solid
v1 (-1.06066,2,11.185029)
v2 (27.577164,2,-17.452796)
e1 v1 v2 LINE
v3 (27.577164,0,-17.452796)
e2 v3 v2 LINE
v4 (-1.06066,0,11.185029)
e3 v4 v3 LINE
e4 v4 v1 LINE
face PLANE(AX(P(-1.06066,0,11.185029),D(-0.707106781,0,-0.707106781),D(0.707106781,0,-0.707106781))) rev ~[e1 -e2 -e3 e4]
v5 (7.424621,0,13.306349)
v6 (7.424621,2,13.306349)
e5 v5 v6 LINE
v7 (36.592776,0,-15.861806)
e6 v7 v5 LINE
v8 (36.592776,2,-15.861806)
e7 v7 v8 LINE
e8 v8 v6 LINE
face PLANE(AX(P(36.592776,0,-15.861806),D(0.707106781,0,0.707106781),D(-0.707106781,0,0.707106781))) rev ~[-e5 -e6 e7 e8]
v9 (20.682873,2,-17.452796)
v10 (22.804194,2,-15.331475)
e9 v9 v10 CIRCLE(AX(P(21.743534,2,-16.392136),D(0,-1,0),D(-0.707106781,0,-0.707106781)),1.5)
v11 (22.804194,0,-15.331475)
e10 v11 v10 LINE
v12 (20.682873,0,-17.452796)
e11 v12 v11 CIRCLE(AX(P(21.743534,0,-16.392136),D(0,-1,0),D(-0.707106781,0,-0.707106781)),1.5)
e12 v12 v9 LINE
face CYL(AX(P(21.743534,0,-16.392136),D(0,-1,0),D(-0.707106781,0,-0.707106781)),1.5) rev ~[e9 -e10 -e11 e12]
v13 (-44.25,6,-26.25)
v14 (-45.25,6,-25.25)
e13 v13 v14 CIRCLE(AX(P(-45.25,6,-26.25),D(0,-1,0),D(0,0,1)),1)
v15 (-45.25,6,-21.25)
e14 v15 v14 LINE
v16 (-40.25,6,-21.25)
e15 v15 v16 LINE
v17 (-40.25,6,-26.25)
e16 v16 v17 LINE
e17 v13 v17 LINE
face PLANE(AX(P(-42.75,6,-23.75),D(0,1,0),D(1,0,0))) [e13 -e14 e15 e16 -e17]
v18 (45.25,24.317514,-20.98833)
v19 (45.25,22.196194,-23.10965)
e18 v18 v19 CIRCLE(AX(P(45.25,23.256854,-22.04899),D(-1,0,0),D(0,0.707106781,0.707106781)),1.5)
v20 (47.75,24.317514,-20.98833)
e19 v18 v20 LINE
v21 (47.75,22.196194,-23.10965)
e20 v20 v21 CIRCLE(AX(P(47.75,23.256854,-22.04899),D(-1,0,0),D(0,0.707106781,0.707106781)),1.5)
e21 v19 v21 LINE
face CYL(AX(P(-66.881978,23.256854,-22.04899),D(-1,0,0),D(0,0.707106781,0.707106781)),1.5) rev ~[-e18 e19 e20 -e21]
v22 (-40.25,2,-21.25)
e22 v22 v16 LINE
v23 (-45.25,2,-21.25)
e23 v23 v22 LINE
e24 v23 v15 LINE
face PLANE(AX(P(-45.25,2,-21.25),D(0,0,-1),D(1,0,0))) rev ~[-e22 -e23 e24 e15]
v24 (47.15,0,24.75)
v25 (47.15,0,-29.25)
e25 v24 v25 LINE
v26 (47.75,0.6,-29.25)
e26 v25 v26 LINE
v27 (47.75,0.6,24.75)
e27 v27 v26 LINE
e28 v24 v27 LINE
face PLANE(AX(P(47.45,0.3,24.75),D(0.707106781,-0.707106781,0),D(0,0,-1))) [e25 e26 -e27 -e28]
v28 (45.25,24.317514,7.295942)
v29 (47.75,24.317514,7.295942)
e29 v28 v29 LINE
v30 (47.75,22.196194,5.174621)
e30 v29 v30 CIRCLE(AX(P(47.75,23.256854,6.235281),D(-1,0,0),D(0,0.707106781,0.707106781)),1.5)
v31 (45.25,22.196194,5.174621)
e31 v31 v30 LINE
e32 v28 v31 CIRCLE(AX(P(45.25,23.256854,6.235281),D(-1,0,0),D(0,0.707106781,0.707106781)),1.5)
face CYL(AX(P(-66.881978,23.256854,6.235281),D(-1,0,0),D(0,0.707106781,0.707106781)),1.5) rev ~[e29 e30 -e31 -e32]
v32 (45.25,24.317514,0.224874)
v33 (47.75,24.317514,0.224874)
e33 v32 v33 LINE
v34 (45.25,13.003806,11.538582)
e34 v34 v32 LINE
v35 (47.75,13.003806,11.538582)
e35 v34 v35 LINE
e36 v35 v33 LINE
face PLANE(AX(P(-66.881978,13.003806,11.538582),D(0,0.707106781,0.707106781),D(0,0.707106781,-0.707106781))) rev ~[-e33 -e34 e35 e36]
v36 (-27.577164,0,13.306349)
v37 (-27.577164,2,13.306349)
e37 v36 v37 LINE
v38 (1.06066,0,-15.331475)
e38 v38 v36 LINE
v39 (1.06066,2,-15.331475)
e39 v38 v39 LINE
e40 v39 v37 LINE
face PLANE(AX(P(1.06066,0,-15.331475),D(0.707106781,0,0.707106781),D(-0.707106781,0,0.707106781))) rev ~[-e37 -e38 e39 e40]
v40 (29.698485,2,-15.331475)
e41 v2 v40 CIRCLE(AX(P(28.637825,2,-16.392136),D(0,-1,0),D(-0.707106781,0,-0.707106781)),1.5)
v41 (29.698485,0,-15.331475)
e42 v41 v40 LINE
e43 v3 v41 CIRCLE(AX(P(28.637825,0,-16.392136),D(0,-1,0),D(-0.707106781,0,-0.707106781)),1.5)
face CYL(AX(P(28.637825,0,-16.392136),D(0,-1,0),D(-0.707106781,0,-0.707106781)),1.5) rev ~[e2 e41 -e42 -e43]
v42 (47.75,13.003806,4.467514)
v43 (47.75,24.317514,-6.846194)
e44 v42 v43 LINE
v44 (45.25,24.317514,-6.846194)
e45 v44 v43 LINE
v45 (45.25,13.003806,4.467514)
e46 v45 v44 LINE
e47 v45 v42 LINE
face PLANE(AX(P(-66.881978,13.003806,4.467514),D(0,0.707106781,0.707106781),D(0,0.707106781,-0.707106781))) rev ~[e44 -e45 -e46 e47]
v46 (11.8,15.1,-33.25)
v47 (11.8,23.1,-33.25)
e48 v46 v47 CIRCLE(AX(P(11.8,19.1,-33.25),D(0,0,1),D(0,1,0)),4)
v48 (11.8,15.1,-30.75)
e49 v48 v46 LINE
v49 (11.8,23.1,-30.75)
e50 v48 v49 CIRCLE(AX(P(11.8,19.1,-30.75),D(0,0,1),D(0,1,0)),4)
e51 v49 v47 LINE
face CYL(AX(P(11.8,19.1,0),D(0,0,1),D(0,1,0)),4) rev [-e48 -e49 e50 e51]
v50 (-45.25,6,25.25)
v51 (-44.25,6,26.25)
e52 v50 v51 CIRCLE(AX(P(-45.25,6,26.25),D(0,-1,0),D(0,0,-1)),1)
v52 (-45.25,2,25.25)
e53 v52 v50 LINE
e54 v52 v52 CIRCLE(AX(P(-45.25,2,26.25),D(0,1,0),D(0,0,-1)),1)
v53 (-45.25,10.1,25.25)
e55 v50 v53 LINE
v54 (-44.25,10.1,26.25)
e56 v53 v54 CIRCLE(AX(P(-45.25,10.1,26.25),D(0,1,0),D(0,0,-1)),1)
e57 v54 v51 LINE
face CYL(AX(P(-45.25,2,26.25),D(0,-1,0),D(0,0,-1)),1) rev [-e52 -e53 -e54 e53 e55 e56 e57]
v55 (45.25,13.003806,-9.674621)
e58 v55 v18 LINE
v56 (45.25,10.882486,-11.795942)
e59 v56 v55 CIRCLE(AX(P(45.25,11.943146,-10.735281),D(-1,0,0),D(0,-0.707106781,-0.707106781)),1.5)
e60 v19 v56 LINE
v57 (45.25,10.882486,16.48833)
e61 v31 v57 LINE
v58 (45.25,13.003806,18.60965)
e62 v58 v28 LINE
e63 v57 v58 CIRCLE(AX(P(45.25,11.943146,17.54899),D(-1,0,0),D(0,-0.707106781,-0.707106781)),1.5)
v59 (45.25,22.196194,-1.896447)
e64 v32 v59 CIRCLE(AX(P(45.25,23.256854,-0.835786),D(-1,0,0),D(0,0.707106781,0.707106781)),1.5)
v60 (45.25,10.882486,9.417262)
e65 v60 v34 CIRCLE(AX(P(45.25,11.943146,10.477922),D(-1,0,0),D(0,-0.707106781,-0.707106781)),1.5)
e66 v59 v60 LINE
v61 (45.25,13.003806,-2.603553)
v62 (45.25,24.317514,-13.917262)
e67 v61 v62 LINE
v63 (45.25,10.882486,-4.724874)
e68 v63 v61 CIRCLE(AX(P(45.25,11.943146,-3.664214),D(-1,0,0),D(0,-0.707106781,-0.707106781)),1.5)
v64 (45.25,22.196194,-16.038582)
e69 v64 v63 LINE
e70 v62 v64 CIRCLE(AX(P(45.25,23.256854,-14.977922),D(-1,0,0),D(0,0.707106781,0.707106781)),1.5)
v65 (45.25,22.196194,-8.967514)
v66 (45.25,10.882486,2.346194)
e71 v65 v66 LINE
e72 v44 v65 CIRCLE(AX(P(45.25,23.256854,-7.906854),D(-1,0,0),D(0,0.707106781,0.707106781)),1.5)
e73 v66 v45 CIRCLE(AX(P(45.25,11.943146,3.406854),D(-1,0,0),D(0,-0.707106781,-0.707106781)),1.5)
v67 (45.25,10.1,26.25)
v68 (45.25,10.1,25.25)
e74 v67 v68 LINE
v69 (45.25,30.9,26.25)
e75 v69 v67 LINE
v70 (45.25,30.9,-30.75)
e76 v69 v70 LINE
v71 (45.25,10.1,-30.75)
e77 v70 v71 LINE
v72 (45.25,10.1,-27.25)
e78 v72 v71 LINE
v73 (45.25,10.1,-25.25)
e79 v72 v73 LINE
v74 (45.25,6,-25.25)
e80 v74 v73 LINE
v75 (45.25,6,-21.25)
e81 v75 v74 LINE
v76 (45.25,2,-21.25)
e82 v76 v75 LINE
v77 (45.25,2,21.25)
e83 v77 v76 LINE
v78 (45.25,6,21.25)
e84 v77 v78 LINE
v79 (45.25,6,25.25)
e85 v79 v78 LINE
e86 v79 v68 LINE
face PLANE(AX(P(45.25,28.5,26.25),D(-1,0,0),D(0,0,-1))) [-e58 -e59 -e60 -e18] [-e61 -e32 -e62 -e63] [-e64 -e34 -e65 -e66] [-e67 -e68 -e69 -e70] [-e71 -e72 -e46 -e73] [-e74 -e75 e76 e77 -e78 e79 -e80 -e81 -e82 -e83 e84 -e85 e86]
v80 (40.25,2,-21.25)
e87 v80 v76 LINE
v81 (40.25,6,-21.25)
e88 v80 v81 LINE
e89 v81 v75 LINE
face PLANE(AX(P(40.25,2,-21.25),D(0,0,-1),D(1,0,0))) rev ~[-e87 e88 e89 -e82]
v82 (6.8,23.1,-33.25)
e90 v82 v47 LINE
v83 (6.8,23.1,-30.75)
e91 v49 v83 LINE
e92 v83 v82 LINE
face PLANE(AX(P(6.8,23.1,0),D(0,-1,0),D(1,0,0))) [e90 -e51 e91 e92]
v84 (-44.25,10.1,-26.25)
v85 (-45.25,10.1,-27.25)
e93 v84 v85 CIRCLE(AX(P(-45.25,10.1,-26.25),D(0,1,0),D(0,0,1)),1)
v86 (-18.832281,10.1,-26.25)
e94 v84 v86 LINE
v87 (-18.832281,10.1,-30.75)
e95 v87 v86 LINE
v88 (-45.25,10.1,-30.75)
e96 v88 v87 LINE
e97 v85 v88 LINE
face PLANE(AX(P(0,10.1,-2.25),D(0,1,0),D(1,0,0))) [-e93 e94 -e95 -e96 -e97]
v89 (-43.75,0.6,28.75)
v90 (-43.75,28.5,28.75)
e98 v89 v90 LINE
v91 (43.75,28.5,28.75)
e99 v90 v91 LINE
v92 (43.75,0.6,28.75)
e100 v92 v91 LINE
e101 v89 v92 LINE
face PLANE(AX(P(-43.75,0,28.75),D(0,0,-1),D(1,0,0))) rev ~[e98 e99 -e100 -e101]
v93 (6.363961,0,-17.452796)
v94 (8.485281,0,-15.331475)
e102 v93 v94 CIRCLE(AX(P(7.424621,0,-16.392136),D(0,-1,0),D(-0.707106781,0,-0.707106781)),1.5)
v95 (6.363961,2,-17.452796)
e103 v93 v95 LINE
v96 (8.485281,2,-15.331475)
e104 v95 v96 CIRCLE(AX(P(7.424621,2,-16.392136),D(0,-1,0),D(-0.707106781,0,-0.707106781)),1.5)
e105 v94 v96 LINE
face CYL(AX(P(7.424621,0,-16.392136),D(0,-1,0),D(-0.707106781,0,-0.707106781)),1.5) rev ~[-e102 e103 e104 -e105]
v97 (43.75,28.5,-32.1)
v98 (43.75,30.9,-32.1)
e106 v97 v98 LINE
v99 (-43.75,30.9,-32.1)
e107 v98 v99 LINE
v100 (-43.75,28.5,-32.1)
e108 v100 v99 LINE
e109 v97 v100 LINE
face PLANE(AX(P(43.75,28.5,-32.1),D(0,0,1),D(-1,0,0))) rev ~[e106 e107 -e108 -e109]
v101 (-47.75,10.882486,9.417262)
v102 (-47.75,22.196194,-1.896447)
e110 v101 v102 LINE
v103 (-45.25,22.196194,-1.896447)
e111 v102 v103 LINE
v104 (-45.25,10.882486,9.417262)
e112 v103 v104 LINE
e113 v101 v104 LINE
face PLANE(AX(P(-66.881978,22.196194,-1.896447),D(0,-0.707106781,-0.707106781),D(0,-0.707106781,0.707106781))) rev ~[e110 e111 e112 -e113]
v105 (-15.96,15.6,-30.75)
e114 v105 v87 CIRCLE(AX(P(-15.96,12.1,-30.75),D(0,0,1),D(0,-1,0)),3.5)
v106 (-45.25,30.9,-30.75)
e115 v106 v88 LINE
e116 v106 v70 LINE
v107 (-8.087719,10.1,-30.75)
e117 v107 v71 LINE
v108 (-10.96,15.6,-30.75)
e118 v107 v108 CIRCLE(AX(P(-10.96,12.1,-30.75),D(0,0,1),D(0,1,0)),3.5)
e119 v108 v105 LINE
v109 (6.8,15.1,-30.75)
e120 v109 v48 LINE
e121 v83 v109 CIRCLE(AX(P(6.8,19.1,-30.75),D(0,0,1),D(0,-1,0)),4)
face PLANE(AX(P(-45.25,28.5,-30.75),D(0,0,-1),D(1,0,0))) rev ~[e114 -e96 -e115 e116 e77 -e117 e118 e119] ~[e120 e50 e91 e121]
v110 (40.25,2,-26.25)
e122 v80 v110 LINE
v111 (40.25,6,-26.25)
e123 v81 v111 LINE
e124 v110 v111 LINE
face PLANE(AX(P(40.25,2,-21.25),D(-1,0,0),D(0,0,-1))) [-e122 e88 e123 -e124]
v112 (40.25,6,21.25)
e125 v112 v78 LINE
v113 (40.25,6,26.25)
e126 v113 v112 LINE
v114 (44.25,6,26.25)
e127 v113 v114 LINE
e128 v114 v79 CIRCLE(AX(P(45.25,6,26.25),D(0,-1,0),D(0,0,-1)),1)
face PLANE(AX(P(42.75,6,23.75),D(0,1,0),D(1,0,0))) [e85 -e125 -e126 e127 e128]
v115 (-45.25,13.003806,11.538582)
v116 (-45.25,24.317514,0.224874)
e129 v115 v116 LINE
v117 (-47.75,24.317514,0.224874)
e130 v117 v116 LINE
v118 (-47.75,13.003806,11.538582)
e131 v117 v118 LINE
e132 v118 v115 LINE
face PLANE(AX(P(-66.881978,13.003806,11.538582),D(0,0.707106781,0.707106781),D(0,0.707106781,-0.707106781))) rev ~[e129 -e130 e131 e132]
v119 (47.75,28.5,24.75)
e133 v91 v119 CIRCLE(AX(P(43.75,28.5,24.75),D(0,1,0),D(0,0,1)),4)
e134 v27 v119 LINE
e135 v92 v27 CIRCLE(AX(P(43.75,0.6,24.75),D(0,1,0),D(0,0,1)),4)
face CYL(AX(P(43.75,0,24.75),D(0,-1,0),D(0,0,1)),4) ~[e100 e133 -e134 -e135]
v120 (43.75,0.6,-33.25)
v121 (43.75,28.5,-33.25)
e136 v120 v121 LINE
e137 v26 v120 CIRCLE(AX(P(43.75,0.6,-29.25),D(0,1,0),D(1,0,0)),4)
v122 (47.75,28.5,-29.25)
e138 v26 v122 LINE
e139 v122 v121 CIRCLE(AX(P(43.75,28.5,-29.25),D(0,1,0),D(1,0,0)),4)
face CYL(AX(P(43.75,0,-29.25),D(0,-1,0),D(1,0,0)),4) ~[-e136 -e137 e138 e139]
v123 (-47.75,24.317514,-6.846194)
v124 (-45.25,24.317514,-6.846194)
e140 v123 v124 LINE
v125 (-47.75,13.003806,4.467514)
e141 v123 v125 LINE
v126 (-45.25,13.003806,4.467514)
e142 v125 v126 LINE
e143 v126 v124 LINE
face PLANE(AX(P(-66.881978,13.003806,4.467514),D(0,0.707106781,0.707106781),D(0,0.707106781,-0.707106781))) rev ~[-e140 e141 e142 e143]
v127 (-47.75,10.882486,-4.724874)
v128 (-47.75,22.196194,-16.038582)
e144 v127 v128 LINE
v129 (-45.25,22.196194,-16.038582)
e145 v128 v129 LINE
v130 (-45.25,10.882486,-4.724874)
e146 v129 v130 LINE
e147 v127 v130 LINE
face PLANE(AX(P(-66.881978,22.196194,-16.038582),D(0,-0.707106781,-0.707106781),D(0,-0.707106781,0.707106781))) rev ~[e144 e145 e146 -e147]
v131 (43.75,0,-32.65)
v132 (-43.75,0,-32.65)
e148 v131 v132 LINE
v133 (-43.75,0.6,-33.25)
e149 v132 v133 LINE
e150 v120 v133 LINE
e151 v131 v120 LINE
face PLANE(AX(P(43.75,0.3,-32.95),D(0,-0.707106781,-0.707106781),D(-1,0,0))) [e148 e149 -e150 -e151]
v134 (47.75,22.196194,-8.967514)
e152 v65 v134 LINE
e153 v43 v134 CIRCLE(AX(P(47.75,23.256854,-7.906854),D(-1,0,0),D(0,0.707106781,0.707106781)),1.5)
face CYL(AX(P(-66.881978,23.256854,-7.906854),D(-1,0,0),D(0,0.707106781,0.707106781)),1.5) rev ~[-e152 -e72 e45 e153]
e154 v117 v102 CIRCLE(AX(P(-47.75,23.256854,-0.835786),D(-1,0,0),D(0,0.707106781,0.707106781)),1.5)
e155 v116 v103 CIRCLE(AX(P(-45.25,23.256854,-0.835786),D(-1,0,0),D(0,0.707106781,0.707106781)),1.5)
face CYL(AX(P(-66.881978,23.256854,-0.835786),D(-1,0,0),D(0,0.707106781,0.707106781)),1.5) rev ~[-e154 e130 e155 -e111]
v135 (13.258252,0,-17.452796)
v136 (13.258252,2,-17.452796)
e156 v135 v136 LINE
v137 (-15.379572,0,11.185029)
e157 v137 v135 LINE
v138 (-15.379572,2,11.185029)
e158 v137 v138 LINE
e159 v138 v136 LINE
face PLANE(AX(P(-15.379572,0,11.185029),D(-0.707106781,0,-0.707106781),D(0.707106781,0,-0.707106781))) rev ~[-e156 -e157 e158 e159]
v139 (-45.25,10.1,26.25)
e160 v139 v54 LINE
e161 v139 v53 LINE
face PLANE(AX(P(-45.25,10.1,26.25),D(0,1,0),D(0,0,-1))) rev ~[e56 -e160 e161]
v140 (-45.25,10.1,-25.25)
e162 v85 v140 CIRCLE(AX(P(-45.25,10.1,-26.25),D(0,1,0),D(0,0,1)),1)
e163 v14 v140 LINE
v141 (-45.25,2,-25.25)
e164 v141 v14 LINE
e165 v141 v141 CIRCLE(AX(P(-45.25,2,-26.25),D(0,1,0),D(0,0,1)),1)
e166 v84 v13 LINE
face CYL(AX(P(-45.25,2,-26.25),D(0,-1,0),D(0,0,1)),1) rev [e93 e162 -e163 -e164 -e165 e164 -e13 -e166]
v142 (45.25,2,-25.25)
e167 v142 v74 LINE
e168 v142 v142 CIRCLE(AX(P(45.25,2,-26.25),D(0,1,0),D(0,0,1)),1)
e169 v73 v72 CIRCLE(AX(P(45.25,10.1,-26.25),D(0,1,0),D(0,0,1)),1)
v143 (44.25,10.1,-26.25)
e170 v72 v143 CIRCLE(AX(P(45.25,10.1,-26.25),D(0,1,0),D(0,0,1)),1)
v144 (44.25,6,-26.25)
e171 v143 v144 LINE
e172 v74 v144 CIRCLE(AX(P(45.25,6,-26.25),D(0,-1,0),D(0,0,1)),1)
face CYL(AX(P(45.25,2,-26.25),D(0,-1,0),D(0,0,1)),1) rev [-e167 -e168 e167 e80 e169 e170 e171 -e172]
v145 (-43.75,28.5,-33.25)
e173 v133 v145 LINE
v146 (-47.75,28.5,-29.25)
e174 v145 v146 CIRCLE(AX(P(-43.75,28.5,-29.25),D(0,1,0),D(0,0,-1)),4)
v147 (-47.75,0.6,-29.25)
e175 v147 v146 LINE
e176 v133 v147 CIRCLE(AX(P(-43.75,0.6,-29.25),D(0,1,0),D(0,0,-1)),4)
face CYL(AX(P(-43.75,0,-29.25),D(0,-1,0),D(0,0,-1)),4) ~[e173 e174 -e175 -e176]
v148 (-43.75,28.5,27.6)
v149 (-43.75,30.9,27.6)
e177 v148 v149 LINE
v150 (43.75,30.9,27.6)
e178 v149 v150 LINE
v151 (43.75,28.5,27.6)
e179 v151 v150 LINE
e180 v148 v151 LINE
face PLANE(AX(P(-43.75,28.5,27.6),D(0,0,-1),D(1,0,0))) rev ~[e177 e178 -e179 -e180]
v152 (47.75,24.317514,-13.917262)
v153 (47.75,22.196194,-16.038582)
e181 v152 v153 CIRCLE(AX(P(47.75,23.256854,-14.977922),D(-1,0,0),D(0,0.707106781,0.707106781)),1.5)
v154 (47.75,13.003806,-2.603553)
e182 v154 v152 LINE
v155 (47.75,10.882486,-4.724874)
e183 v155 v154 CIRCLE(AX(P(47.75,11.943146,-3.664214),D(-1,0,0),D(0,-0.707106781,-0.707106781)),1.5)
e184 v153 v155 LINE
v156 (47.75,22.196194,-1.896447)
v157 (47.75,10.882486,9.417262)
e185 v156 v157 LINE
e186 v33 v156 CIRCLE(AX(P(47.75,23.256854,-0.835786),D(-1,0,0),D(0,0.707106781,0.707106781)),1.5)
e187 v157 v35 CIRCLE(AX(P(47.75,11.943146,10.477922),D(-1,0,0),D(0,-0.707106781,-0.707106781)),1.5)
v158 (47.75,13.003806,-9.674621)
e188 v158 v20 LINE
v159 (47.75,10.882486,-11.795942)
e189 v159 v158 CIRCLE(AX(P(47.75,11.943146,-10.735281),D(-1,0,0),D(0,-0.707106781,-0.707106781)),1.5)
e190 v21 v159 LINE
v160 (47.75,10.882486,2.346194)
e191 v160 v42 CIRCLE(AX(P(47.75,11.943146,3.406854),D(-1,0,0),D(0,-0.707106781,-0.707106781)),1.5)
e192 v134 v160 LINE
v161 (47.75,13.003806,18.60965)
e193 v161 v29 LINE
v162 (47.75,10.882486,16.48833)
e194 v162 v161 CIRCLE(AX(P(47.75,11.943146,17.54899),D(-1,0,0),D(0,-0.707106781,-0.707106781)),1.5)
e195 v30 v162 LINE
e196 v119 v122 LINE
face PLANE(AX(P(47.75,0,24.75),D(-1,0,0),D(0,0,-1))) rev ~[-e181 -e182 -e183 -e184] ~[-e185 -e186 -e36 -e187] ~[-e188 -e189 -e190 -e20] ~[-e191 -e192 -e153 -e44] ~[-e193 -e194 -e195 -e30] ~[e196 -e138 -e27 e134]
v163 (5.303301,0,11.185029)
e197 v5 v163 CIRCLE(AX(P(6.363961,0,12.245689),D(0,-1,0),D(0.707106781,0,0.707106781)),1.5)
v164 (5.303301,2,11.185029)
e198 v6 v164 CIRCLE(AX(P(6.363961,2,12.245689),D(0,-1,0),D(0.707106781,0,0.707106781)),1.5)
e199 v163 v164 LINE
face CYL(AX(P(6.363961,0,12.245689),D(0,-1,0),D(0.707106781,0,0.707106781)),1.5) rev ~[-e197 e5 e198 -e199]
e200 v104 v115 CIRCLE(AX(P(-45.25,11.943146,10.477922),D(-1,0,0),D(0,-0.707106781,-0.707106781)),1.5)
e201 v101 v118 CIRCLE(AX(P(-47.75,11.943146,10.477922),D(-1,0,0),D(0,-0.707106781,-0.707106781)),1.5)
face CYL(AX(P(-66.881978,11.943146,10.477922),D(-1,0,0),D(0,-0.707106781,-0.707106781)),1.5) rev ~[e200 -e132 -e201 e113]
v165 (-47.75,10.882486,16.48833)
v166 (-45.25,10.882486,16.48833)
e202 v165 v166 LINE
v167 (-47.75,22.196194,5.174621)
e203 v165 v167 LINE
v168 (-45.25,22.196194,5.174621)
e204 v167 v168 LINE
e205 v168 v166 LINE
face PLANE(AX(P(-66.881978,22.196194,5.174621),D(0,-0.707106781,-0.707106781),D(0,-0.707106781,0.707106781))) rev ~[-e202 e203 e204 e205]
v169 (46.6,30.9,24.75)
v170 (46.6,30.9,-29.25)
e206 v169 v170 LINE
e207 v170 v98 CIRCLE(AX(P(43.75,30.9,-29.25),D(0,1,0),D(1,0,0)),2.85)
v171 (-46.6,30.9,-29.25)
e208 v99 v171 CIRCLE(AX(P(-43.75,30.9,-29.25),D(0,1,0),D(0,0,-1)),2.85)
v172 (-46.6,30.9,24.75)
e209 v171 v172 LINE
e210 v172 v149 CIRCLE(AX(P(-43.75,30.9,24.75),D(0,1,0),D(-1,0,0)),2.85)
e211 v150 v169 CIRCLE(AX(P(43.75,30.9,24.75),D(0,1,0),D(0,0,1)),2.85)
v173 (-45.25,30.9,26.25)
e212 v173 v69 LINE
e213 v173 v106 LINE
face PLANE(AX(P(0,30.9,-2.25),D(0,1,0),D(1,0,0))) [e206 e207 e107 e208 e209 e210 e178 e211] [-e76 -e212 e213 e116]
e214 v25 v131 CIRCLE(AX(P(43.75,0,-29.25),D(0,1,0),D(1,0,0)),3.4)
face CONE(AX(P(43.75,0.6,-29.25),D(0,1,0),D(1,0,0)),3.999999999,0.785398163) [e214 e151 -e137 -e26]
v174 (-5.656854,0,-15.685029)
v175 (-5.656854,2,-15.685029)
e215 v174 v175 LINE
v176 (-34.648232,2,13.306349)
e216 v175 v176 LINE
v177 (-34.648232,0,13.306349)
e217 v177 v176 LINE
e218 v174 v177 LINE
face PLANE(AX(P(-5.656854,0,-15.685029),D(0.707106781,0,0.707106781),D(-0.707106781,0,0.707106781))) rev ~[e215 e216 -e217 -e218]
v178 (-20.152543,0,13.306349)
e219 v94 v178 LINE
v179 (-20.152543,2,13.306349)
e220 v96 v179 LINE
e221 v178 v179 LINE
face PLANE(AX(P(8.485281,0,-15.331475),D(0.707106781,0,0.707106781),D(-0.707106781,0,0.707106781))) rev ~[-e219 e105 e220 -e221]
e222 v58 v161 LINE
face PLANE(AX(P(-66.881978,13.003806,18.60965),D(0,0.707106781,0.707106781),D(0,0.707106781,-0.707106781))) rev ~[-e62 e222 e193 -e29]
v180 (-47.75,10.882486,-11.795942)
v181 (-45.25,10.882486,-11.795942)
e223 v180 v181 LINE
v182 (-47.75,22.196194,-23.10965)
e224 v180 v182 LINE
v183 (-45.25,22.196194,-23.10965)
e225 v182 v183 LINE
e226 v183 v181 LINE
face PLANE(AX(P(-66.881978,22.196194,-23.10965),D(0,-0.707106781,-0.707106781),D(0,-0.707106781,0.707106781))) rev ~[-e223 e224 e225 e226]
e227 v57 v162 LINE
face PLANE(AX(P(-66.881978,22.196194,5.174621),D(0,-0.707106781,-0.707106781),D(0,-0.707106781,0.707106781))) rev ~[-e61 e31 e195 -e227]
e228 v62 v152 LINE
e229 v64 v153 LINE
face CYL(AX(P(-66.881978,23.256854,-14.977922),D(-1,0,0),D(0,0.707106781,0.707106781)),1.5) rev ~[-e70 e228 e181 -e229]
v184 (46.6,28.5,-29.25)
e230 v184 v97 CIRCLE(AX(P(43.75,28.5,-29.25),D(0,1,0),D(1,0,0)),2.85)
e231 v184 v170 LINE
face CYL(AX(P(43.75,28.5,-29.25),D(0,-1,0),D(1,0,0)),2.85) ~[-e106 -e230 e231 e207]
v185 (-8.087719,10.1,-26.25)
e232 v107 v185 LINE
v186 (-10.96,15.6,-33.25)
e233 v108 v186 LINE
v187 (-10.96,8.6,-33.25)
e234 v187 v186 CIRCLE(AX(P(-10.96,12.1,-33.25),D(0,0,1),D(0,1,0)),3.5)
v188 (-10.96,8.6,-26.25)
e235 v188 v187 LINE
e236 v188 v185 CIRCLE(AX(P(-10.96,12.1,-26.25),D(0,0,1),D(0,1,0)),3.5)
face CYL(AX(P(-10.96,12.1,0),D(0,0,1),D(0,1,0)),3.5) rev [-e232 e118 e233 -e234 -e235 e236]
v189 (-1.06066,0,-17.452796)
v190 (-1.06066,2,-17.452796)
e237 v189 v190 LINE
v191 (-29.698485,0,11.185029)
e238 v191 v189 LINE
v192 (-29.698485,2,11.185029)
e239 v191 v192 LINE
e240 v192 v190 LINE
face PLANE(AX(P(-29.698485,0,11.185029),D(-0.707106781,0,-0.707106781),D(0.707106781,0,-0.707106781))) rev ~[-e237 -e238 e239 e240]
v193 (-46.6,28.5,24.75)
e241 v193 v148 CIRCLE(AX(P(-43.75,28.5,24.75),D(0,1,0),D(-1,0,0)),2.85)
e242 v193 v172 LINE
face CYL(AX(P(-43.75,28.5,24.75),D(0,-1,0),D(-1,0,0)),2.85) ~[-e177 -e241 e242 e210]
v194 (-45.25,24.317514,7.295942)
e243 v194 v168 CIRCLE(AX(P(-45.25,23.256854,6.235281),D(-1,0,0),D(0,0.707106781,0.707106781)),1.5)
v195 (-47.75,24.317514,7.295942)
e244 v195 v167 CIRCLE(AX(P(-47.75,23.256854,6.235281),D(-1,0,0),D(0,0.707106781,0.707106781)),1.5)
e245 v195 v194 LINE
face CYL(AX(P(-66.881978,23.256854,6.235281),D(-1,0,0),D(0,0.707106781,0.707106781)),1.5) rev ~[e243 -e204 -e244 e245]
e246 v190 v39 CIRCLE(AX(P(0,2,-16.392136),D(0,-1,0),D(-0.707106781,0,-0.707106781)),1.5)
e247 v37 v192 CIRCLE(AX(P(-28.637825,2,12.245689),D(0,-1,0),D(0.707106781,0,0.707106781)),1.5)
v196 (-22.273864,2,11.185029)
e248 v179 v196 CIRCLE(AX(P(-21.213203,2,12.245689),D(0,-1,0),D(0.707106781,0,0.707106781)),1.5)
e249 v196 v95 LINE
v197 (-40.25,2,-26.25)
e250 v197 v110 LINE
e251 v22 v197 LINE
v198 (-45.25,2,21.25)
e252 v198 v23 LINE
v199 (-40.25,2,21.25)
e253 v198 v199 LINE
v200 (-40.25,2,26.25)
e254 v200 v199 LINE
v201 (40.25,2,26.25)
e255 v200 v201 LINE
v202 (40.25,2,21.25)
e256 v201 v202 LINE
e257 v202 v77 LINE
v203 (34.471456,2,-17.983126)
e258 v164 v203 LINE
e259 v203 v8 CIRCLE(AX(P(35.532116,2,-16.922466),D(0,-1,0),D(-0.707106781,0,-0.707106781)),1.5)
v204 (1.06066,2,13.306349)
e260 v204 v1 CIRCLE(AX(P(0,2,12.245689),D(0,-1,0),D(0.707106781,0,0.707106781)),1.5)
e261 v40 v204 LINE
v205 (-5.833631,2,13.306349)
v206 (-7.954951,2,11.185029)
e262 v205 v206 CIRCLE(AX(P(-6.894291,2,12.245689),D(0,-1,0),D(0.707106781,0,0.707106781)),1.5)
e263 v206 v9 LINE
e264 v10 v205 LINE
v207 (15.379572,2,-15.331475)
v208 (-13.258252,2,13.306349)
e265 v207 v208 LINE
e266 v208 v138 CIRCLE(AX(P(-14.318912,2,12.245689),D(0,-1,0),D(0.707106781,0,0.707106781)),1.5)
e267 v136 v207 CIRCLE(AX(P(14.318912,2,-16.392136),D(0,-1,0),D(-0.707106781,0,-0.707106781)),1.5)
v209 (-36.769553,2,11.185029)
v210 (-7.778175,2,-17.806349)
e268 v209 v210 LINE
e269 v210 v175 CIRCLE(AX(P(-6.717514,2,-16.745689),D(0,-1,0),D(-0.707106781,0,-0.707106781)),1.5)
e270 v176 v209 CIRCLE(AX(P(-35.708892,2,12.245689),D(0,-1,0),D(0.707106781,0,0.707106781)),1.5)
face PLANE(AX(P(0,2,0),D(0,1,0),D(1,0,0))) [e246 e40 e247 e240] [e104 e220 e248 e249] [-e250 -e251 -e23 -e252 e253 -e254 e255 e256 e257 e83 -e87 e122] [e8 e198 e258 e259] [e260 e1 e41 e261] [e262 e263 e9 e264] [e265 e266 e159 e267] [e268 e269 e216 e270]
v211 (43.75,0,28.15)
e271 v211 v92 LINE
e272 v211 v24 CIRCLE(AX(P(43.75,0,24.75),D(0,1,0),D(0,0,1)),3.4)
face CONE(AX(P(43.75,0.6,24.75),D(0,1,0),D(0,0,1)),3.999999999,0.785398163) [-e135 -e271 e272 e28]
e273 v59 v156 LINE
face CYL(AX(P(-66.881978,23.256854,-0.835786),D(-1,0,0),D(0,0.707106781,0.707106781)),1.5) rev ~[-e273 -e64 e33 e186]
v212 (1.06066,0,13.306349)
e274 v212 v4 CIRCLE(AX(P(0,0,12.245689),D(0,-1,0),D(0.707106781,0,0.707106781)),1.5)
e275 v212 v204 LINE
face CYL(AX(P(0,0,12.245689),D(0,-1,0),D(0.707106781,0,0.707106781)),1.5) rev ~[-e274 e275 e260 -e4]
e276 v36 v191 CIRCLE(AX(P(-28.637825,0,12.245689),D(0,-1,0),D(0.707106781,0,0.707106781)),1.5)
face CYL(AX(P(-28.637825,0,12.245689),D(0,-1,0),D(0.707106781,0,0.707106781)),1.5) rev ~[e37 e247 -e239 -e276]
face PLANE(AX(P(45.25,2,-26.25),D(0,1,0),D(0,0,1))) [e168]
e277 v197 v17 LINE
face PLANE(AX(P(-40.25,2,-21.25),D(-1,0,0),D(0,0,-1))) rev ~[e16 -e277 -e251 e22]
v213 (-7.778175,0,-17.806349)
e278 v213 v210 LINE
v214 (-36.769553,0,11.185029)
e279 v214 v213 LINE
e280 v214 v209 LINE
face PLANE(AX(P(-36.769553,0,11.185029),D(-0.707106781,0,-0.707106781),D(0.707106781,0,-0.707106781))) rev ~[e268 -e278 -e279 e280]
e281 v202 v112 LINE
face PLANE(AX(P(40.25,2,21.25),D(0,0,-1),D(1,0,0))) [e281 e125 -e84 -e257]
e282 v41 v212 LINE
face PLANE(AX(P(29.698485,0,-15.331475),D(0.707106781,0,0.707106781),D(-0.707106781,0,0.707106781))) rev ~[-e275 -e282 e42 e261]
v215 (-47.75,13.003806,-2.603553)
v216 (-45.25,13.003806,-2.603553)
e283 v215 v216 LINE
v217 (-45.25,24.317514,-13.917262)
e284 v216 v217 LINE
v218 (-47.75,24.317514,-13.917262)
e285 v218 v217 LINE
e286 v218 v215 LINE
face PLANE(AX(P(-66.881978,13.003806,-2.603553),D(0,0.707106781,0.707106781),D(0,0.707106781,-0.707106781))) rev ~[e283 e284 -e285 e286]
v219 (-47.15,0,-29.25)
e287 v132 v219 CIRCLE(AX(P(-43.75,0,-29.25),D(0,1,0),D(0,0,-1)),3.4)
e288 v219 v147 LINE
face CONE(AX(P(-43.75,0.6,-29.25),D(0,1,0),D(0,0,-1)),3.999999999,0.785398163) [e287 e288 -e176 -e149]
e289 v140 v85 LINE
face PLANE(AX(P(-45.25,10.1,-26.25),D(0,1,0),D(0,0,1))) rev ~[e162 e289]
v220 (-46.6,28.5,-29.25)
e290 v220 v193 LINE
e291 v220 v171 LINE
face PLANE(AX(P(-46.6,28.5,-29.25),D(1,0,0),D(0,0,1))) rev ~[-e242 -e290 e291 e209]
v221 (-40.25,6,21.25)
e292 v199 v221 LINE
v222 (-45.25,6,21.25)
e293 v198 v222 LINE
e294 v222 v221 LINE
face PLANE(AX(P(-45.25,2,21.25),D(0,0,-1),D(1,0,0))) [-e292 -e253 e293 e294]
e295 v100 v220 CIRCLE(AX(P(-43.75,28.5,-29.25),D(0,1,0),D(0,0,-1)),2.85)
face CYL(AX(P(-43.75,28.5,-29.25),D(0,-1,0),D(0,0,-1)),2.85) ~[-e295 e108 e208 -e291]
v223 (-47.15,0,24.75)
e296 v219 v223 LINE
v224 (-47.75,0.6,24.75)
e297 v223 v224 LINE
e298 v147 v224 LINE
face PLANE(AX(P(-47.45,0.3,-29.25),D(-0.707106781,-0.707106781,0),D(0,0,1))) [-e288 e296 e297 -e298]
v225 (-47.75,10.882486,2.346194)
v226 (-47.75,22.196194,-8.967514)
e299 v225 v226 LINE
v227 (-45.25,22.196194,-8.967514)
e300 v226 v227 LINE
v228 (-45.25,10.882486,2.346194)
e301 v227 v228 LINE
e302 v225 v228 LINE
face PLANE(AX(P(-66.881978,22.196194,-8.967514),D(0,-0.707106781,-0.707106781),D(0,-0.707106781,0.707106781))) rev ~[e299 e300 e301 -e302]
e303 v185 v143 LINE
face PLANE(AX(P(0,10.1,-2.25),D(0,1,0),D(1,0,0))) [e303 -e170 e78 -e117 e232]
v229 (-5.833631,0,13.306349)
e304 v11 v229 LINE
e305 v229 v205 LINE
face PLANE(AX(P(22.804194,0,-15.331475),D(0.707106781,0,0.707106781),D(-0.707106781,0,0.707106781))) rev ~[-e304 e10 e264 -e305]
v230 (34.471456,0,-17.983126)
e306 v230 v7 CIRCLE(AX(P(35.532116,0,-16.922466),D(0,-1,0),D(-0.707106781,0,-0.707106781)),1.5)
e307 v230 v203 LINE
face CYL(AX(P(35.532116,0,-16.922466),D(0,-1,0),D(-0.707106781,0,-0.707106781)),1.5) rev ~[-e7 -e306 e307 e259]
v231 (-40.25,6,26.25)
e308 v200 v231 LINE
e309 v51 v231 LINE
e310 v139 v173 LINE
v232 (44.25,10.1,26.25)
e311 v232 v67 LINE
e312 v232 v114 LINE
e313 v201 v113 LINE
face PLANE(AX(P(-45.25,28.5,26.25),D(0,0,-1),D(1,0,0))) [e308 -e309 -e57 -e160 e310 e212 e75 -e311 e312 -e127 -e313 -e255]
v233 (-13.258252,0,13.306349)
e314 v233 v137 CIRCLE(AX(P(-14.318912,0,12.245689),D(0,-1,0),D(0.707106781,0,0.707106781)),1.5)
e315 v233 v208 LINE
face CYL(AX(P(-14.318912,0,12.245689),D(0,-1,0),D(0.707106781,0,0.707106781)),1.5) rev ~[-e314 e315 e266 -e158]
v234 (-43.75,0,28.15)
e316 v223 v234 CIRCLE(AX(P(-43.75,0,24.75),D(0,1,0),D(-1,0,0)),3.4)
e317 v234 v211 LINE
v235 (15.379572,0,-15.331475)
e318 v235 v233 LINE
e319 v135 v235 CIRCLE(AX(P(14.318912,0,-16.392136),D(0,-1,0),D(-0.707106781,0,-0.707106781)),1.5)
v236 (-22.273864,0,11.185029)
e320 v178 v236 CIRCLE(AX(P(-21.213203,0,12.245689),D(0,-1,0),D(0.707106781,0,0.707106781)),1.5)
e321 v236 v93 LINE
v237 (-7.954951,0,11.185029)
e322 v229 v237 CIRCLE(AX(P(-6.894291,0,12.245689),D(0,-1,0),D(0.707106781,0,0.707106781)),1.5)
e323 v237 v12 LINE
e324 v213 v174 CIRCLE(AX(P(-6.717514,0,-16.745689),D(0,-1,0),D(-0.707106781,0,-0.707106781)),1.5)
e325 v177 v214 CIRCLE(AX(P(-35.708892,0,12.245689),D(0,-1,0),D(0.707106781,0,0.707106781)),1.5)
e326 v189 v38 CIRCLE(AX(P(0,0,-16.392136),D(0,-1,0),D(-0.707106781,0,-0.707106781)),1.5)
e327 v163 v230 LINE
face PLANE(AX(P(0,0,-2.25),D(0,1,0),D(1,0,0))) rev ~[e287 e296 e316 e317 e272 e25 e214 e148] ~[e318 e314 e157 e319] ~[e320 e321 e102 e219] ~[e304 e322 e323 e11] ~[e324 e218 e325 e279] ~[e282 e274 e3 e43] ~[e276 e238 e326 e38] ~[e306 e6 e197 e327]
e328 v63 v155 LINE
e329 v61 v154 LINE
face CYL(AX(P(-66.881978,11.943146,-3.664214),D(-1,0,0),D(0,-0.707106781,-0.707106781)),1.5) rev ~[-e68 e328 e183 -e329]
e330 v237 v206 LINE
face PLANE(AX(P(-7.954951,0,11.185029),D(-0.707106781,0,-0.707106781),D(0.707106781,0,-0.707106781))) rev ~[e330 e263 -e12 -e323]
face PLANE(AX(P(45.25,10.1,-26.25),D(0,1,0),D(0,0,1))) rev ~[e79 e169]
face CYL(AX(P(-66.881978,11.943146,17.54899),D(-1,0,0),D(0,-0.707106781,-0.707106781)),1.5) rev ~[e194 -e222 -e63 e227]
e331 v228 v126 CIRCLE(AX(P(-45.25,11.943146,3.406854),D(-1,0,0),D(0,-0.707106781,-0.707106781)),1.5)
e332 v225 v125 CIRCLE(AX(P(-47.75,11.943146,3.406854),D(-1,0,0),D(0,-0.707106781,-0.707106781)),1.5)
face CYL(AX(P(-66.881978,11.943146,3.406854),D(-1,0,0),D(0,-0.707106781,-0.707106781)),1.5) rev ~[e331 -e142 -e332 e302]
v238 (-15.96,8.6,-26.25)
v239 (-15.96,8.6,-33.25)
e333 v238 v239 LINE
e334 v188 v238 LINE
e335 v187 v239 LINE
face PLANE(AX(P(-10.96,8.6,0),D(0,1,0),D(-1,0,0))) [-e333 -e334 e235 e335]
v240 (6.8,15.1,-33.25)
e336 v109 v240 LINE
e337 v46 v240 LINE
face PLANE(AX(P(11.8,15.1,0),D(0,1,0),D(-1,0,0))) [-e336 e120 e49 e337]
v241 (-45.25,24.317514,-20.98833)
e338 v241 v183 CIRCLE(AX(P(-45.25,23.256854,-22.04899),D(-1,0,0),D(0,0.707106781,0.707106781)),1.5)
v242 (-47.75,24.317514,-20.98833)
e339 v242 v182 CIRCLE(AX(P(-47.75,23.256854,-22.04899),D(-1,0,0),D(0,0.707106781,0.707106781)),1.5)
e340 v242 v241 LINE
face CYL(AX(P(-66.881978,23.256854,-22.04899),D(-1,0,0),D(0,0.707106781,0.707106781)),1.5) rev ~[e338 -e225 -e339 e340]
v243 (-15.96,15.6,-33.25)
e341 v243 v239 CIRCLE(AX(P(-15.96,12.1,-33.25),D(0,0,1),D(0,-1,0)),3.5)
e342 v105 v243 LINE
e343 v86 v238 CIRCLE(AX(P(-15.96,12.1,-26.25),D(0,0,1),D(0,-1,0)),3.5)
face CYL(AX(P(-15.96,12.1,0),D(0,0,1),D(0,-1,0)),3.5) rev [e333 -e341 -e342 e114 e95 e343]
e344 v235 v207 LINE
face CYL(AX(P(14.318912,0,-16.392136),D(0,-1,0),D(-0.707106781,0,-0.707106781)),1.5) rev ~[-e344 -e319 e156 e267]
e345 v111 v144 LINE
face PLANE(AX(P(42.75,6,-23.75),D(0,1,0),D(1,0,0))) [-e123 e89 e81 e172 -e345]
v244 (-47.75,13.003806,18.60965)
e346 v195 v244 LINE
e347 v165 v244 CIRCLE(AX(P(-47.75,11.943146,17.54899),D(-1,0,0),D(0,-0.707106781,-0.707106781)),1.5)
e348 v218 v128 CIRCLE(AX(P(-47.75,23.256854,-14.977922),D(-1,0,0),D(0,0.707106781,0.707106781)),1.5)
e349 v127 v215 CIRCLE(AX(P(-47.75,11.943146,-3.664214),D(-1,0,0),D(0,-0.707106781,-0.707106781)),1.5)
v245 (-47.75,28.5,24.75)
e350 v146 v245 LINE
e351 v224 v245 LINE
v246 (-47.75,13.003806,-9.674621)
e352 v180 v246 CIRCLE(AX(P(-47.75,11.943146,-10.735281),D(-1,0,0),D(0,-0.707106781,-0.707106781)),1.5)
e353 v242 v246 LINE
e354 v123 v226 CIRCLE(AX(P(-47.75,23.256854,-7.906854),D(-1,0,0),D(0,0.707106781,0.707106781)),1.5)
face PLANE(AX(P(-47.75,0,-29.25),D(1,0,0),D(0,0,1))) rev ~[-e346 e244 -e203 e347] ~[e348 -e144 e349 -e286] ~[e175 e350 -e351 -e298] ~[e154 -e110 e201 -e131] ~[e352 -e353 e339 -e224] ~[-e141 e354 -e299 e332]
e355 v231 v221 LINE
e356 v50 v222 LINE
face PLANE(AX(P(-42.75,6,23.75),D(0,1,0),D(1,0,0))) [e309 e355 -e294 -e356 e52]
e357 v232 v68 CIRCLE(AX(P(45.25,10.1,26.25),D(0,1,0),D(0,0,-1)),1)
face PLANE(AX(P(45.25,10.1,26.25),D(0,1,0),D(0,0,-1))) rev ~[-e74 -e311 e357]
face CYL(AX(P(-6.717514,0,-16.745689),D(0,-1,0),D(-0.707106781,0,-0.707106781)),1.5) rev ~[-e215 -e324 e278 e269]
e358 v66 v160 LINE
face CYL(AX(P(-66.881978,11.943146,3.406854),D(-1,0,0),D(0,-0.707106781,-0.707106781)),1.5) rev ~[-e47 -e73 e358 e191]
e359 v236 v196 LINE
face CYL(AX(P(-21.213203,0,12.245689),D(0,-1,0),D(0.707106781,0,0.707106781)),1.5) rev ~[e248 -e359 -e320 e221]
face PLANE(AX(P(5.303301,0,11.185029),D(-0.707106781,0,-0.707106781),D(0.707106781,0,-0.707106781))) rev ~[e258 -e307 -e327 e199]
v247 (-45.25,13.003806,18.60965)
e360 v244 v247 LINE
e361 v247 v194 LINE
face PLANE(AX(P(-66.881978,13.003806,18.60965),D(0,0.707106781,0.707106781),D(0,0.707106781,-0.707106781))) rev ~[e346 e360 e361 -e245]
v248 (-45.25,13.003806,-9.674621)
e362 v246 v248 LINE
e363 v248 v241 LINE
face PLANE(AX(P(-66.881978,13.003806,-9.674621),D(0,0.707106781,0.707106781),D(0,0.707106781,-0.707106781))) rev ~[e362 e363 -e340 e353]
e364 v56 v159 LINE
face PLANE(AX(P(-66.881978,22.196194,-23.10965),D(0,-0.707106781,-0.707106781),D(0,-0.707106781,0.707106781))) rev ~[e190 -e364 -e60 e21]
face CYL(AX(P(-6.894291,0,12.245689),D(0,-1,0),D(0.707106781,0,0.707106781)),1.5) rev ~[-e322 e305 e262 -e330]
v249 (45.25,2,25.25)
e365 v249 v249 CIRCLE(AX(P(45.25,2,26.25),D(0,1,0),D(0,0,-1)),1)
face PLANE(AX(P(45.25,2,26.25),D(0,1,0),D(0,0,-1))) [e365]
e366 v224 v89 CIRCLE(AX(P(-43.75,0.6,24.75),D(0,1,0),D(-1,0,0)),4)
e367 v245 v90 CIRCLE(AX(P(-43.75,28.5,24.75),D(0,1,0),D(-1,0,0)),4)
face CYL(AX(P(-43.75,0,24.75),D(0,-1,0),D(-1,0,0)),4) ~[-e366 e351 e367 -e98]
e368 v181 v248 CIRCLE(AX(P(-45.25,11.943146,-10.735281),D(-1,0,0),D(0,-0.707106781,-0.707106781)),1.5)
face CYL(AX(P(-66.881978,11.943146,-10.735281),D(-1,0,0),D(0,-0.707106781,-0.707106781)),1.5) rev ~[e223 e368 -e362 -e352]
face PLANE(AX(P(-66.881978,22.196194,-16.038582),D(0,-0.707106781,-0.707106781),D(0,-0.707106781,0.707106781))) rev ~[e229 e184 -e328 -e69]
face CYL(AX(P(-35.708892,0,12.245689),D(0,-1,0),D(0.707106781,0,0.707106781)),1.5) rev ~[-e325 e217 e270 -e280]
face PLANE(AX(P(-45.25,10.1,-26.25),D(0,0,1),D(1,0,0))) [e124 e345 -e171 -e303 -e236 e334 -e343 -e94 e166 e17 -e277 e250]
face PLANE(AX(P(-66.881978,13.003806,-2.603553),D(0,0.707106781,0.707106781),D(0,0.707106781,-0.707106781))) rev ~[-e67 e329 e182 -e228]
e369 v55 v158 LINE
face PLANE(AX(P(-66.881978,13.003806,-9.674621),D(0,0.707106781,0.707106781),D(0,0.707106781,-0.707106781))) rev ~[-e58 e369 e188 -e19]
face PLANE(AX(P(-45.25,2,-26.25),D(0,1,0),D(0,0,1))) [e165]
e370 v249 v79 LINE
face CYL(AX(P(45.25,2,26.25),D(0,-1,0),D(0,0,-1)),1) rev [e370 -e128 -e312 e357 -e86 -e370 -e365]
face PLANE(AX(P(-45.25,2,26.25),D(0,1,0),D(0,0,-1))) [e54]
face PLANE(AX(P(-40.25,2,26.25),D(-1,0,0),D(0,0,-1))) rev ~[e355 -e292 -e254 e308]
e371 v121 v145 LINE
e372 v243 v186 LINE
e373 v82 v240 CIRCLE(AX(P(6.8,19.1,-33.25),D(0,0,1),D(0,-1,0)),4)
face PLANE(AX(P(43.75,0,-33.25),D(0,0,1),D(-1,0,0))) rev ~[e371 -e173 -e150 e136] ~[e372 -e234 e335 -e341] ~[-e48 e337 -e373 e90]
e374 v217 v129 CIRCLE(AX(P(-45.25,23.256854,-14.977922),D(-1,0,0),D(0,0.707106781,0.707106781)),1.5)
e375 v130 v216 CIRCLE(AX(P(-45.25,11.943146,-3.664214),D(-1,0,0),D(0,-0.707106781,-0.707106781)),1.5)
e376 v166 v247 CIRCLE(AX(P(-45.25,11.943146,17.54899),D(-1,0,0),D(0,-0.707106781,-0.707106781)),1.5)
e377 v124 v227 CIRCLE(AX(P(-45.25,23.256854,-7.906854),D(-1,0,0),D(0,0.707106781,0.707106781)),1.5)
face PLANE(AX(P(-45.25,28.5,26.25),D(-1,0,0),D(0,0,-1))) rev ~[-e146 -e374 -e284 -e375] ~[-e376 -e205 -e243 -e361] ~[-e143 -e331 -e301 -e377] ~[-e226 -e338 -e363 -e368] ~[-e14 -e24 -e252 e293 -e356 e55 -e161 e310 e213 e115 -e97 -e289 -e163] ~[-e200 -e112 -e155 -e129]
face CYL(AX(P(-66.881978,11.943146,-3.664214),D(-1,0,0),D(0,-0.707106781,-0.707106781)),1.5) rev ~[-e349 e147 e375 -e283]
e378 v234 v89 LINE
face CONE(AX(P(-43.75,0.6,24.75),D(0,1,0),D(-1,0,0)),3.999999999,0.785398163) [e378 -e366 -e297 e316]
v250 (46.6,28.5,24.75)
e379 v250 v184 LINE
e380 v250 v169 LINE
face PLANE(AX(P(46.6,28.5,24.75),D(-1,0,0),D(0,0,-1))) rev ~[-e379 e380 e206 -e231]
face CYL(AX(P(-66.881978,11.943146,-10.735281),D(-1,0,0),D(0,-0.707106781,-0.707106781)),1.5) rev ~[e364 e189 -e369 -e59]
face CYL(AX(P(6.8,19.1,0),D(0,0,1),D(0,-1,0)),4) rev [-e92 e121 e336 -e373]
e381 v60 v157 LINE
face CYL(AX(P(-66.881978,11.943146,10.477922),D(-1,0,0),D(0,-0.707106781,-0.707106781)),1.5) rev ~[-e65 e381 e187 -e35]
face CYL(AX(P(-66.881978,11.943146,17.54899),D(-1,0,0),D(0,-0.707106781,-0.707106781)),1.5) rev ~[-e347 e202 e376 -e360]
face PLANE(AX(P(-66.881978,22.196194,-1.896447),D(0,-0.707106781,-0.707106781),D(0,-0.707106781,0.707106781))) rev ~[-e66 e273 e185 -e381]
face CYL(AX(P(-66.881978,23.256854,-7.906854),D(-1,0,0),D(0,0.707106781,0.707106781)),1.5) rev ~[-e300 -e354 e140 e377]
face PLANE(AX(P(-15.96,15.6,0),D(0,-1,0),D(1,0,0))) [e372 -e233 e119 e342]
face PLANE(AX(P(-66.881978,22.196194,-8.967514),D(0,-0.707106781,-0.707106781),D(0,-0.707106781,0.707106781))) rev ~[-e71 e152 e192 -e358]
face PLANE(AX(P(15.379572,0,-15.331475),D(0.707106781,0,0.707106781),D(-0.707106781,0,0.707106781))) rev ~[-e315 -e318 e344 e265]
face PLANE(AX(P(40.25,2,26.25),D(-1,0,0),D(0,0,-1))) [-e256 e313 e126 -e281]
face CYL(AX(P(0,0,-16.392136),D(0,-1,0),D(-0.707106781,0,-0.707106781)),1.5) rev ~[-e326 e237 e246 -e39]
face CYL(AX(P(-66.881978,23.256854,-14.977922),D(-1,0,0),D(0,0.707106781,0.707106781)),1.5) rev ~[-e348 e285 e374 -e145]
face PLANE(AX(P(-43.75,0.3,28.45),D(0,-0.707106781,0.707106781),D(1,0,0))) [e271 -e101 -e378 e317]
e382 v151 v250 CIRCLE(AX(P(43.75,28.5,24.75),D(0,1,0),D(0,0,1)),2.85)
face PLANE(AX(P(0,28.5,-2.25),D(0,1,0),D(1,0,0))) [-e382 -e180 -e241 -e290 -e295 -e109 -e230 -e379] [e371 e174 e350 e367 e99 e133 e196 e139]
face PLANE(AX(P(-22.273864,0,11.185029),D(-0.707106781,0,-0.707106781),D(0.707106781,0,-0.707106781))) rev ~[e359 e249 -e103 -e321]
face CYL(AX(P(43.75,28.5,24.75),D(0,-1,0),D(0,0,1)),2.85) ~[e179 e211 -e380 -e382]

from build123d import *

# Parameters (mm, degrees)
CUERPO_DEPTH                  = 28.5
CROQUIS_HUECO_ESP32_W         = 90.5
CROQUIS_HUECO_ESP32_H         = 57
HUECO_ESP32_DEPTH             = 18.4
CROQUIS_HUECO_PCB_W           = 90.5
CROQUIS_HUECO_PCB_H           = 52.5
HUECO_PCB_DEPTH               = 8.1
CROQUIS_LABIO_W               = 90.5
CROQUIS_LABIO_H               = 57
LABIO_LIP_DEPTH               = 2.4
CROQUIS_APOYOS_W              = 5
CROQUIS_APOYOS_H              = 5
APOYOS_PCB_DEPTH              = 4
CROQUIS_ALIVIOS_R             = 1
ALIVIOS_ESQUINAS_DEPTH        = 8.1
SALIDAS_USB_Y_PANEL_DEPTH     = 66.881977809
VENTILAS_LATERALES_DEPTH      = 66.881977809
VENTILAS_LATERALES_DEPTH_BACK = 66.881977809
REJILLA_PISO_DEPTH            = 2
CHAFLAN_BASE_SIZE             = 0.6


with BuildPart() as part:
    # Croquis_contorno → Cuerpo (new body)
    with BuildSketch(Plane(origin=(0, 0, 0), x_dir=(1, 0, 0), z_dir=(0, 1, 0))):
        with BuildLine():
            Line((-43.75, -28.75), (43.75, -28.75))
            ThreePointArc((43.75, -28.75), (46.578427125, -27.578427125), (47.75, -24.75))
            Line((47.75, -24.75), (47.75, 29.25))
            ThreePointArc((47.75, 29.25), (46.578427125, 32.078427125), (43.75, 33.25))
            Line((43.75, 33.25), (-43.75, 33.25))
            ThreePointArc((-43.75, 33.25), (-46.578427125, 32.078427125), (-47.75, 29.25))
            Line((-47.75, 29.25), (-47.75, -24.75))
            ThreePointArc((-47.75, -24.75), (-46.578427125, -27.578427125), (-43.75, -28.75))
        make_face()
    extrude(amount=CUERPO_DEPTH)

    # Croquis_hueco_ESP32 → Hueco_ESP32 (cut)
    with BuildSketch(Plane(origin=(0, 28.5, 0), x_dir=(1, 0, 0), z_dir=(0, 1, 0))):
        with Locations((0, 2.25)):
            Rectangle(CROQUIS_HUECO_ESP32_W, CROQUIS_HUECO_ESP32_H)
    extrude(amount=-HUECO_ESP32_DEPTH, mode=Mode.SUBTRACT)

    # Croquis_hueco_PCB → Hueco_PCB (cut)
    with BuildSketch(Plane(origin=(0, 10.1, 0), x_dir=(1, 0, 0), z_dir=(0, 1, 0))):
        Rectangle(CROQUIS_HUECO_PCB_W, CROQUIS_HUECO_PCB_H)
    extrude(amount=-HUECO_PCB_DEPTH, mode=Mode.SUBTRACT)

    # Croquis_labio → Labio_lip (add)
    with BuildSketch(Plane(origin=(0, 28.5, 0), x_dir=(1, 0, 0), z_dir=(0, 1, 0))):
        with BuildLine():
            Line((-43.75, -27.6), (43.75, -27.6))
            ThreePointArc((43.75, -27.6), (45.765254326, -26.765254326), (46.6, -24.75))
            Line((46.6, -24.75), (46.6, 29.25))
            ThreePointArc((46.6, 29.25), (45.765254326, 31.265254326), (43.75, 32.1))
            Line((43.75, 32.1), (-43.75, 32.1))
            ThreePointArc((-43.75, 32.1), (-45.765254326, 31.265254326), (-46.6, 29.25))
            Line((-46.6, 29.25), (-46.6, -24.75))
            ThreePointArc((-46.6, -24.75), (-45.765254326, -26.765254326), (-43.75, -27.6))
        make_face()
        with Locations((0, 2.25)):
            Rectangle(CROQUIS_LABIO_W, CROQUIS_LABIO_H, mode=Mode.SUBTRACT)
    extrude(amount=LABIO_LIP_DEPTH)

    # Croquis_apoyos → Apoyos_PCB (add)
    with BuildSketch(Plane(origin=(0, 2, 0), x_dir=(1, 0, 0), z_dir=(0, 1, 0))):
        with Locations((-42.75, -23.75)):
            Rectangle(CROQUIS_APOYOS_W, CROQUIS_APOYOS_H)
        with Locations((-42.75, 23.75)):
            Rectangle(CROQUIS_APOYOS_W, CROQUIS_APOYOS_H)
        with Locations((42.75, -23.75)):
            Rectangle(CROQUIS_APOYOS_W, CROQUIS_APOYOS_H)
        with Locations((42.75, 23.75)):
            Rectangle(CROQUIS_APOYOS_W, CROQUIS_APOYOS_H)
    extrude(amount=APOYOS_PCB_DEPTH)

    # Croquis_alivios → Alivios_esquinas (cut)
    with BuildSketch(Plane(origin=(0, 2, 0), x_dir=(1, 0, 0), z_dir=(0, 1, 0))):
        with Locations(Location((-45.25, -26.25, 0), (0, 0, 90))):
            Circle(CROQUIS_ALIVIOS_R)
        with Locations(Location((-45.25, 26.25, 0), (0, 0, 270))):
            Circle(CROQUIS_ALIVIOS_R)
        with Locations(Location((45.25, -26.25, 0), (0, 0, 90))):
            Circle(CROQUIS_ALIVIOS_R)
        with Locations(Location((45.25, 26.25, 0), (0, 0, 270))):
            Circle(CROQUIS_ALIVIOS_R)
    extrude(amount=ALIVIOS_ESQUINAS_DEPTH, mode=Mode.SUBTRACT)

    # Croquis_salidas → Salidas_USB_y_panel (cut, through all)
    with BuildSketch(Plane.XY):
        with BuildLine():
            Line((6.8, 23.1), (11.8, 23.1))
            ThreePointArc((11.8, 23.1), (15.8, 19.1), (11.8, 15.1))
            Line((11.8, 15.1), (6.8, 15.1))
            ThreePointArc((6.8, 15.1), (2.8, 19.1), (6.8, 23.1))
        make_face()
        with BuildLine():
            Line((-15.96, 15.6), (-10.96, 15.6))
            ThreePointArc((-10.96, 15.6), (-7.46, 12.1), (-10.96, 8.6))
            Line((-10.96, 8.6), (-15.96, 8.6))
            ThreePointArc((-15.96, 8.6), (-19.46, 12.1), (-15.96, 15.6))
        make_face()
    extrude(amount=-SALIDAS_USB_Y_PANEL_DEPTH, mode=Mode.SUBTRACT)

    # Croquis_ventilas → Ventilas_laterales (cut, two sides: drawn at the far end of the back side and taken through both)
    with BuildSketch(Plane(origin=(0, 0, 0), x_dir=(0, 0, -1), z_dir=(1, 0, 0)).offset(-VENTILAS_LATERALES_DEPTH_BACK)):
        with BuildLine():
            Line((-18.609650045, 13.003805922), (-7.295941546, 24.317514421))
            ThreePointArc((-7.295941546, 24.317514421), (-5.174621202, 24.317514421), (-5.174621202, 22.196194078))
            Line((-5.174621202, 22.196194078), (-16.488329701, 10.882485579))
            ThreePointArc((-16.488329701, 10.882485579), (-18.609650045, 10.882485579), (-18.609650045, 13.003805922))
        make_face()
        with BuildLine():
            Line((-11.538582233, 13.003805922), (-0.224873734, 24.317514421))
            ThreePointArc((-0.224873734, 24.317514421), (1.896446609, 24.317514421), (1.896446609, 22.196194078))
            Line((1.896446609, 22.196194078), (-9.41726189, 10.882485579))
            ThreePointArc((-9.41726189, 10.882485579), (-11.538582233, 10.882485579), (-11.538582233, 13.003805922))
        make_face()
        with BuildLine():
            Line((-4.467514421, 13.003805922), (6.846194078, 24.317514421))
            ThreePointArc((6.846194078, 24.317514421), (8.967514421, 24.317514421), (8.967514421, 22.196194078))
            Line((8.967514421, 22.196194078), (-2.346194078, 10.882485579))
            ThreePointArc((-2.346194078, 10.882485579), (-4.467514421, 10.882485579), (-4.467514421, 13.003805922))
        make_face()
        with BuildLine():
            Line((2.603553391, 13.003805922), (13.91726189, 24.317514421))
            ThreePointArc((13.91726189, 24.317514421), (16.038582233, 24.317514421), (16.038582233, 22.196194078))
            Line((16.038582233, 22.196194078), (4.724873734, 10.882485579))
            ThreePointArc((4.724873734, 10.882485579), (2.603553391, 10.882485579), (2.603553391, 13.003805922))
        make_face()
        with BuildLine():
            Line((9.674621202, 13.003805922), (20.988329701, 24.317514421))
            ThreePointArc((20.988329701, 24.317514421), (23.109650045, 24.317514421), (23.109650045, 22.196194078))
            Line((23.109650045, 22.196194078), (11.795941546, 10.882485579))
            ThreePointArc((11.795941546, 10.882485579), (9.674621202, 10.882485579), (9.674621202, 13.003805922))
        make_face()
    extrude(amount=VENTILAS_LATERALES_DEPTH + VENTILAS_LATERALES_DEPTH_BACK, mode=Mode.SUBTRACT)

    # Croquis_rejilla_piso → Rejilla_piso (cut)
    with BuildSketch(Plane(origin=(0, 0, 0), x_dir=(1, 0, 0), z_dir=(0, 1, 0))):
        with BuildLine():
            Line((-36.769552622, -11.185028843), (-7.778174593, 17.806349186))
            ThreePointArc((-7.778174593, 17.806349186), (-5.656854249, 17.806349186), (-5.656854249, 15.685028843))
            Line((-5.656854249, 15.685028843), (-34.648232278, -13.306349186))
            ThreePointArc((-34.648232278, -13.306349186), (-36.769552622, -13.306349186), (-36.769552622, -11.185028843))
        make_face()
        with BuildLine():
            Line((-29.69848481, -11.185028843), (-1.060660172, 17.452795796))
            ThreePointArc((-1.060660172, 17.452795796), (1.060660172, 17.452795796), (1.060660172, 15.331475452))
            Line((1.060660172, 15.331475452), (-27.577164466, -13.306349186))
            ThreePointArc((-27.577164466, -13.306349186), (-29.69848481, -13.306349186), (-29.69848481, -11.185028843))
        make_face()
        with BuildLine():
            Line((-22.273863607, -11.185028843), (6.363961031, 17.452795796))
            ThreePointArc((6.363961031, 17.452795796), (8.485281374, 17.452795796), (8.485281374, 15.331475452))
            Line((8.485281374, 15.331475452), (-20.152543264, -13.306349186))
            ThreePointArc((-20.152543264, -13.306349186), (-22.273863607, -13.306349186), (-22.273863607, -11.185028843))
        make_face()
        with BuildLine():
            Line((-15.379572491, -11.185028843), (13.258252147, 17.452795796))
            ThreePointArc((13.258252147, 17.452795796), (15.379572491, 17.452795796), (15.379572491, 15.331475452))
            Line((15.379572491, 15.331475452), (-13.258252147, -13.306349186))
            ThreePointArc((-13.258252147, -13.306349186), (-15.379572491, -13.306349186), (-15.379572491, -11.185028843))
        make_face()
        with BuildLine():
            Line((-7.954951288, -11.185028843), (20.68287335, 17.452795796))
            ThreePointArc((20.68287335, 17.452795796), (22.804193693, 17.452795796), (22.804193693, 15.331475452))
            Line((22.804193693, 15.331475452), (-5.833630945, -13.306349186))
            ThreePointArc((-5.833630945, -13.306349186), (-7.954951288, -13.306349186), (-7.954951288, -11.185028843))
        make_face()
        with BuildLine():
            Line((-1.060660172, -11.185028843), (27.577164466, 17.452795796))
            ThreePointArc((27.577164466, 17.452795796), (29.69848481, 17.452795796), (29.69848481, 15.331475452))
            Line((29.69848481, 15.331475452), (1.060660172, -13.306349186))
            ThreePointArc((1.060660172, -13.306349186), (-1.060660172, -13.306349186), (-1.060660172, -11.185028843))
        make_face()
        with BuildLine():
            Line((5.303300859, -11.185028843), (34.471455583, 17.983125881))
            ThreePointArc((34.471455583, 17.983125881), (36.592775926, 17.983125881), (36.592775926, 15.861805538))
            Line((36.592775926, 15.861805538), (7.424621202, -13.306349186))
            ThreePointArc((7.424621202, -13.306349186), (5.303300859, -13.306349186), (5.303300859, -11.185028843))
        make_face()
    extrude(amount=REJILLA_PISO_DEPTH, mode=Mode.SUBTRACT)

    # Chaflan_base
    chaflan_base_edges = [part.edges().sort_by_distance(p)[0] for p in [
        (47.75, 0, -2.25),
        (46.578427125, 0, 27.578427125),
        (0, 0, 28.75),
        (-46.578427125, 0, 27.578427125),
        (-47.75, 0, -2.25),
        (-46.578427125, 0, -32.078427125),
        (0, 0, -33.25),
        (46.578427125, 0, -32.078427125),
    ]]
    chamfer(chaflan_base_edges, length=CHAFLAN_BASE_SIZE)


solid = part.part
